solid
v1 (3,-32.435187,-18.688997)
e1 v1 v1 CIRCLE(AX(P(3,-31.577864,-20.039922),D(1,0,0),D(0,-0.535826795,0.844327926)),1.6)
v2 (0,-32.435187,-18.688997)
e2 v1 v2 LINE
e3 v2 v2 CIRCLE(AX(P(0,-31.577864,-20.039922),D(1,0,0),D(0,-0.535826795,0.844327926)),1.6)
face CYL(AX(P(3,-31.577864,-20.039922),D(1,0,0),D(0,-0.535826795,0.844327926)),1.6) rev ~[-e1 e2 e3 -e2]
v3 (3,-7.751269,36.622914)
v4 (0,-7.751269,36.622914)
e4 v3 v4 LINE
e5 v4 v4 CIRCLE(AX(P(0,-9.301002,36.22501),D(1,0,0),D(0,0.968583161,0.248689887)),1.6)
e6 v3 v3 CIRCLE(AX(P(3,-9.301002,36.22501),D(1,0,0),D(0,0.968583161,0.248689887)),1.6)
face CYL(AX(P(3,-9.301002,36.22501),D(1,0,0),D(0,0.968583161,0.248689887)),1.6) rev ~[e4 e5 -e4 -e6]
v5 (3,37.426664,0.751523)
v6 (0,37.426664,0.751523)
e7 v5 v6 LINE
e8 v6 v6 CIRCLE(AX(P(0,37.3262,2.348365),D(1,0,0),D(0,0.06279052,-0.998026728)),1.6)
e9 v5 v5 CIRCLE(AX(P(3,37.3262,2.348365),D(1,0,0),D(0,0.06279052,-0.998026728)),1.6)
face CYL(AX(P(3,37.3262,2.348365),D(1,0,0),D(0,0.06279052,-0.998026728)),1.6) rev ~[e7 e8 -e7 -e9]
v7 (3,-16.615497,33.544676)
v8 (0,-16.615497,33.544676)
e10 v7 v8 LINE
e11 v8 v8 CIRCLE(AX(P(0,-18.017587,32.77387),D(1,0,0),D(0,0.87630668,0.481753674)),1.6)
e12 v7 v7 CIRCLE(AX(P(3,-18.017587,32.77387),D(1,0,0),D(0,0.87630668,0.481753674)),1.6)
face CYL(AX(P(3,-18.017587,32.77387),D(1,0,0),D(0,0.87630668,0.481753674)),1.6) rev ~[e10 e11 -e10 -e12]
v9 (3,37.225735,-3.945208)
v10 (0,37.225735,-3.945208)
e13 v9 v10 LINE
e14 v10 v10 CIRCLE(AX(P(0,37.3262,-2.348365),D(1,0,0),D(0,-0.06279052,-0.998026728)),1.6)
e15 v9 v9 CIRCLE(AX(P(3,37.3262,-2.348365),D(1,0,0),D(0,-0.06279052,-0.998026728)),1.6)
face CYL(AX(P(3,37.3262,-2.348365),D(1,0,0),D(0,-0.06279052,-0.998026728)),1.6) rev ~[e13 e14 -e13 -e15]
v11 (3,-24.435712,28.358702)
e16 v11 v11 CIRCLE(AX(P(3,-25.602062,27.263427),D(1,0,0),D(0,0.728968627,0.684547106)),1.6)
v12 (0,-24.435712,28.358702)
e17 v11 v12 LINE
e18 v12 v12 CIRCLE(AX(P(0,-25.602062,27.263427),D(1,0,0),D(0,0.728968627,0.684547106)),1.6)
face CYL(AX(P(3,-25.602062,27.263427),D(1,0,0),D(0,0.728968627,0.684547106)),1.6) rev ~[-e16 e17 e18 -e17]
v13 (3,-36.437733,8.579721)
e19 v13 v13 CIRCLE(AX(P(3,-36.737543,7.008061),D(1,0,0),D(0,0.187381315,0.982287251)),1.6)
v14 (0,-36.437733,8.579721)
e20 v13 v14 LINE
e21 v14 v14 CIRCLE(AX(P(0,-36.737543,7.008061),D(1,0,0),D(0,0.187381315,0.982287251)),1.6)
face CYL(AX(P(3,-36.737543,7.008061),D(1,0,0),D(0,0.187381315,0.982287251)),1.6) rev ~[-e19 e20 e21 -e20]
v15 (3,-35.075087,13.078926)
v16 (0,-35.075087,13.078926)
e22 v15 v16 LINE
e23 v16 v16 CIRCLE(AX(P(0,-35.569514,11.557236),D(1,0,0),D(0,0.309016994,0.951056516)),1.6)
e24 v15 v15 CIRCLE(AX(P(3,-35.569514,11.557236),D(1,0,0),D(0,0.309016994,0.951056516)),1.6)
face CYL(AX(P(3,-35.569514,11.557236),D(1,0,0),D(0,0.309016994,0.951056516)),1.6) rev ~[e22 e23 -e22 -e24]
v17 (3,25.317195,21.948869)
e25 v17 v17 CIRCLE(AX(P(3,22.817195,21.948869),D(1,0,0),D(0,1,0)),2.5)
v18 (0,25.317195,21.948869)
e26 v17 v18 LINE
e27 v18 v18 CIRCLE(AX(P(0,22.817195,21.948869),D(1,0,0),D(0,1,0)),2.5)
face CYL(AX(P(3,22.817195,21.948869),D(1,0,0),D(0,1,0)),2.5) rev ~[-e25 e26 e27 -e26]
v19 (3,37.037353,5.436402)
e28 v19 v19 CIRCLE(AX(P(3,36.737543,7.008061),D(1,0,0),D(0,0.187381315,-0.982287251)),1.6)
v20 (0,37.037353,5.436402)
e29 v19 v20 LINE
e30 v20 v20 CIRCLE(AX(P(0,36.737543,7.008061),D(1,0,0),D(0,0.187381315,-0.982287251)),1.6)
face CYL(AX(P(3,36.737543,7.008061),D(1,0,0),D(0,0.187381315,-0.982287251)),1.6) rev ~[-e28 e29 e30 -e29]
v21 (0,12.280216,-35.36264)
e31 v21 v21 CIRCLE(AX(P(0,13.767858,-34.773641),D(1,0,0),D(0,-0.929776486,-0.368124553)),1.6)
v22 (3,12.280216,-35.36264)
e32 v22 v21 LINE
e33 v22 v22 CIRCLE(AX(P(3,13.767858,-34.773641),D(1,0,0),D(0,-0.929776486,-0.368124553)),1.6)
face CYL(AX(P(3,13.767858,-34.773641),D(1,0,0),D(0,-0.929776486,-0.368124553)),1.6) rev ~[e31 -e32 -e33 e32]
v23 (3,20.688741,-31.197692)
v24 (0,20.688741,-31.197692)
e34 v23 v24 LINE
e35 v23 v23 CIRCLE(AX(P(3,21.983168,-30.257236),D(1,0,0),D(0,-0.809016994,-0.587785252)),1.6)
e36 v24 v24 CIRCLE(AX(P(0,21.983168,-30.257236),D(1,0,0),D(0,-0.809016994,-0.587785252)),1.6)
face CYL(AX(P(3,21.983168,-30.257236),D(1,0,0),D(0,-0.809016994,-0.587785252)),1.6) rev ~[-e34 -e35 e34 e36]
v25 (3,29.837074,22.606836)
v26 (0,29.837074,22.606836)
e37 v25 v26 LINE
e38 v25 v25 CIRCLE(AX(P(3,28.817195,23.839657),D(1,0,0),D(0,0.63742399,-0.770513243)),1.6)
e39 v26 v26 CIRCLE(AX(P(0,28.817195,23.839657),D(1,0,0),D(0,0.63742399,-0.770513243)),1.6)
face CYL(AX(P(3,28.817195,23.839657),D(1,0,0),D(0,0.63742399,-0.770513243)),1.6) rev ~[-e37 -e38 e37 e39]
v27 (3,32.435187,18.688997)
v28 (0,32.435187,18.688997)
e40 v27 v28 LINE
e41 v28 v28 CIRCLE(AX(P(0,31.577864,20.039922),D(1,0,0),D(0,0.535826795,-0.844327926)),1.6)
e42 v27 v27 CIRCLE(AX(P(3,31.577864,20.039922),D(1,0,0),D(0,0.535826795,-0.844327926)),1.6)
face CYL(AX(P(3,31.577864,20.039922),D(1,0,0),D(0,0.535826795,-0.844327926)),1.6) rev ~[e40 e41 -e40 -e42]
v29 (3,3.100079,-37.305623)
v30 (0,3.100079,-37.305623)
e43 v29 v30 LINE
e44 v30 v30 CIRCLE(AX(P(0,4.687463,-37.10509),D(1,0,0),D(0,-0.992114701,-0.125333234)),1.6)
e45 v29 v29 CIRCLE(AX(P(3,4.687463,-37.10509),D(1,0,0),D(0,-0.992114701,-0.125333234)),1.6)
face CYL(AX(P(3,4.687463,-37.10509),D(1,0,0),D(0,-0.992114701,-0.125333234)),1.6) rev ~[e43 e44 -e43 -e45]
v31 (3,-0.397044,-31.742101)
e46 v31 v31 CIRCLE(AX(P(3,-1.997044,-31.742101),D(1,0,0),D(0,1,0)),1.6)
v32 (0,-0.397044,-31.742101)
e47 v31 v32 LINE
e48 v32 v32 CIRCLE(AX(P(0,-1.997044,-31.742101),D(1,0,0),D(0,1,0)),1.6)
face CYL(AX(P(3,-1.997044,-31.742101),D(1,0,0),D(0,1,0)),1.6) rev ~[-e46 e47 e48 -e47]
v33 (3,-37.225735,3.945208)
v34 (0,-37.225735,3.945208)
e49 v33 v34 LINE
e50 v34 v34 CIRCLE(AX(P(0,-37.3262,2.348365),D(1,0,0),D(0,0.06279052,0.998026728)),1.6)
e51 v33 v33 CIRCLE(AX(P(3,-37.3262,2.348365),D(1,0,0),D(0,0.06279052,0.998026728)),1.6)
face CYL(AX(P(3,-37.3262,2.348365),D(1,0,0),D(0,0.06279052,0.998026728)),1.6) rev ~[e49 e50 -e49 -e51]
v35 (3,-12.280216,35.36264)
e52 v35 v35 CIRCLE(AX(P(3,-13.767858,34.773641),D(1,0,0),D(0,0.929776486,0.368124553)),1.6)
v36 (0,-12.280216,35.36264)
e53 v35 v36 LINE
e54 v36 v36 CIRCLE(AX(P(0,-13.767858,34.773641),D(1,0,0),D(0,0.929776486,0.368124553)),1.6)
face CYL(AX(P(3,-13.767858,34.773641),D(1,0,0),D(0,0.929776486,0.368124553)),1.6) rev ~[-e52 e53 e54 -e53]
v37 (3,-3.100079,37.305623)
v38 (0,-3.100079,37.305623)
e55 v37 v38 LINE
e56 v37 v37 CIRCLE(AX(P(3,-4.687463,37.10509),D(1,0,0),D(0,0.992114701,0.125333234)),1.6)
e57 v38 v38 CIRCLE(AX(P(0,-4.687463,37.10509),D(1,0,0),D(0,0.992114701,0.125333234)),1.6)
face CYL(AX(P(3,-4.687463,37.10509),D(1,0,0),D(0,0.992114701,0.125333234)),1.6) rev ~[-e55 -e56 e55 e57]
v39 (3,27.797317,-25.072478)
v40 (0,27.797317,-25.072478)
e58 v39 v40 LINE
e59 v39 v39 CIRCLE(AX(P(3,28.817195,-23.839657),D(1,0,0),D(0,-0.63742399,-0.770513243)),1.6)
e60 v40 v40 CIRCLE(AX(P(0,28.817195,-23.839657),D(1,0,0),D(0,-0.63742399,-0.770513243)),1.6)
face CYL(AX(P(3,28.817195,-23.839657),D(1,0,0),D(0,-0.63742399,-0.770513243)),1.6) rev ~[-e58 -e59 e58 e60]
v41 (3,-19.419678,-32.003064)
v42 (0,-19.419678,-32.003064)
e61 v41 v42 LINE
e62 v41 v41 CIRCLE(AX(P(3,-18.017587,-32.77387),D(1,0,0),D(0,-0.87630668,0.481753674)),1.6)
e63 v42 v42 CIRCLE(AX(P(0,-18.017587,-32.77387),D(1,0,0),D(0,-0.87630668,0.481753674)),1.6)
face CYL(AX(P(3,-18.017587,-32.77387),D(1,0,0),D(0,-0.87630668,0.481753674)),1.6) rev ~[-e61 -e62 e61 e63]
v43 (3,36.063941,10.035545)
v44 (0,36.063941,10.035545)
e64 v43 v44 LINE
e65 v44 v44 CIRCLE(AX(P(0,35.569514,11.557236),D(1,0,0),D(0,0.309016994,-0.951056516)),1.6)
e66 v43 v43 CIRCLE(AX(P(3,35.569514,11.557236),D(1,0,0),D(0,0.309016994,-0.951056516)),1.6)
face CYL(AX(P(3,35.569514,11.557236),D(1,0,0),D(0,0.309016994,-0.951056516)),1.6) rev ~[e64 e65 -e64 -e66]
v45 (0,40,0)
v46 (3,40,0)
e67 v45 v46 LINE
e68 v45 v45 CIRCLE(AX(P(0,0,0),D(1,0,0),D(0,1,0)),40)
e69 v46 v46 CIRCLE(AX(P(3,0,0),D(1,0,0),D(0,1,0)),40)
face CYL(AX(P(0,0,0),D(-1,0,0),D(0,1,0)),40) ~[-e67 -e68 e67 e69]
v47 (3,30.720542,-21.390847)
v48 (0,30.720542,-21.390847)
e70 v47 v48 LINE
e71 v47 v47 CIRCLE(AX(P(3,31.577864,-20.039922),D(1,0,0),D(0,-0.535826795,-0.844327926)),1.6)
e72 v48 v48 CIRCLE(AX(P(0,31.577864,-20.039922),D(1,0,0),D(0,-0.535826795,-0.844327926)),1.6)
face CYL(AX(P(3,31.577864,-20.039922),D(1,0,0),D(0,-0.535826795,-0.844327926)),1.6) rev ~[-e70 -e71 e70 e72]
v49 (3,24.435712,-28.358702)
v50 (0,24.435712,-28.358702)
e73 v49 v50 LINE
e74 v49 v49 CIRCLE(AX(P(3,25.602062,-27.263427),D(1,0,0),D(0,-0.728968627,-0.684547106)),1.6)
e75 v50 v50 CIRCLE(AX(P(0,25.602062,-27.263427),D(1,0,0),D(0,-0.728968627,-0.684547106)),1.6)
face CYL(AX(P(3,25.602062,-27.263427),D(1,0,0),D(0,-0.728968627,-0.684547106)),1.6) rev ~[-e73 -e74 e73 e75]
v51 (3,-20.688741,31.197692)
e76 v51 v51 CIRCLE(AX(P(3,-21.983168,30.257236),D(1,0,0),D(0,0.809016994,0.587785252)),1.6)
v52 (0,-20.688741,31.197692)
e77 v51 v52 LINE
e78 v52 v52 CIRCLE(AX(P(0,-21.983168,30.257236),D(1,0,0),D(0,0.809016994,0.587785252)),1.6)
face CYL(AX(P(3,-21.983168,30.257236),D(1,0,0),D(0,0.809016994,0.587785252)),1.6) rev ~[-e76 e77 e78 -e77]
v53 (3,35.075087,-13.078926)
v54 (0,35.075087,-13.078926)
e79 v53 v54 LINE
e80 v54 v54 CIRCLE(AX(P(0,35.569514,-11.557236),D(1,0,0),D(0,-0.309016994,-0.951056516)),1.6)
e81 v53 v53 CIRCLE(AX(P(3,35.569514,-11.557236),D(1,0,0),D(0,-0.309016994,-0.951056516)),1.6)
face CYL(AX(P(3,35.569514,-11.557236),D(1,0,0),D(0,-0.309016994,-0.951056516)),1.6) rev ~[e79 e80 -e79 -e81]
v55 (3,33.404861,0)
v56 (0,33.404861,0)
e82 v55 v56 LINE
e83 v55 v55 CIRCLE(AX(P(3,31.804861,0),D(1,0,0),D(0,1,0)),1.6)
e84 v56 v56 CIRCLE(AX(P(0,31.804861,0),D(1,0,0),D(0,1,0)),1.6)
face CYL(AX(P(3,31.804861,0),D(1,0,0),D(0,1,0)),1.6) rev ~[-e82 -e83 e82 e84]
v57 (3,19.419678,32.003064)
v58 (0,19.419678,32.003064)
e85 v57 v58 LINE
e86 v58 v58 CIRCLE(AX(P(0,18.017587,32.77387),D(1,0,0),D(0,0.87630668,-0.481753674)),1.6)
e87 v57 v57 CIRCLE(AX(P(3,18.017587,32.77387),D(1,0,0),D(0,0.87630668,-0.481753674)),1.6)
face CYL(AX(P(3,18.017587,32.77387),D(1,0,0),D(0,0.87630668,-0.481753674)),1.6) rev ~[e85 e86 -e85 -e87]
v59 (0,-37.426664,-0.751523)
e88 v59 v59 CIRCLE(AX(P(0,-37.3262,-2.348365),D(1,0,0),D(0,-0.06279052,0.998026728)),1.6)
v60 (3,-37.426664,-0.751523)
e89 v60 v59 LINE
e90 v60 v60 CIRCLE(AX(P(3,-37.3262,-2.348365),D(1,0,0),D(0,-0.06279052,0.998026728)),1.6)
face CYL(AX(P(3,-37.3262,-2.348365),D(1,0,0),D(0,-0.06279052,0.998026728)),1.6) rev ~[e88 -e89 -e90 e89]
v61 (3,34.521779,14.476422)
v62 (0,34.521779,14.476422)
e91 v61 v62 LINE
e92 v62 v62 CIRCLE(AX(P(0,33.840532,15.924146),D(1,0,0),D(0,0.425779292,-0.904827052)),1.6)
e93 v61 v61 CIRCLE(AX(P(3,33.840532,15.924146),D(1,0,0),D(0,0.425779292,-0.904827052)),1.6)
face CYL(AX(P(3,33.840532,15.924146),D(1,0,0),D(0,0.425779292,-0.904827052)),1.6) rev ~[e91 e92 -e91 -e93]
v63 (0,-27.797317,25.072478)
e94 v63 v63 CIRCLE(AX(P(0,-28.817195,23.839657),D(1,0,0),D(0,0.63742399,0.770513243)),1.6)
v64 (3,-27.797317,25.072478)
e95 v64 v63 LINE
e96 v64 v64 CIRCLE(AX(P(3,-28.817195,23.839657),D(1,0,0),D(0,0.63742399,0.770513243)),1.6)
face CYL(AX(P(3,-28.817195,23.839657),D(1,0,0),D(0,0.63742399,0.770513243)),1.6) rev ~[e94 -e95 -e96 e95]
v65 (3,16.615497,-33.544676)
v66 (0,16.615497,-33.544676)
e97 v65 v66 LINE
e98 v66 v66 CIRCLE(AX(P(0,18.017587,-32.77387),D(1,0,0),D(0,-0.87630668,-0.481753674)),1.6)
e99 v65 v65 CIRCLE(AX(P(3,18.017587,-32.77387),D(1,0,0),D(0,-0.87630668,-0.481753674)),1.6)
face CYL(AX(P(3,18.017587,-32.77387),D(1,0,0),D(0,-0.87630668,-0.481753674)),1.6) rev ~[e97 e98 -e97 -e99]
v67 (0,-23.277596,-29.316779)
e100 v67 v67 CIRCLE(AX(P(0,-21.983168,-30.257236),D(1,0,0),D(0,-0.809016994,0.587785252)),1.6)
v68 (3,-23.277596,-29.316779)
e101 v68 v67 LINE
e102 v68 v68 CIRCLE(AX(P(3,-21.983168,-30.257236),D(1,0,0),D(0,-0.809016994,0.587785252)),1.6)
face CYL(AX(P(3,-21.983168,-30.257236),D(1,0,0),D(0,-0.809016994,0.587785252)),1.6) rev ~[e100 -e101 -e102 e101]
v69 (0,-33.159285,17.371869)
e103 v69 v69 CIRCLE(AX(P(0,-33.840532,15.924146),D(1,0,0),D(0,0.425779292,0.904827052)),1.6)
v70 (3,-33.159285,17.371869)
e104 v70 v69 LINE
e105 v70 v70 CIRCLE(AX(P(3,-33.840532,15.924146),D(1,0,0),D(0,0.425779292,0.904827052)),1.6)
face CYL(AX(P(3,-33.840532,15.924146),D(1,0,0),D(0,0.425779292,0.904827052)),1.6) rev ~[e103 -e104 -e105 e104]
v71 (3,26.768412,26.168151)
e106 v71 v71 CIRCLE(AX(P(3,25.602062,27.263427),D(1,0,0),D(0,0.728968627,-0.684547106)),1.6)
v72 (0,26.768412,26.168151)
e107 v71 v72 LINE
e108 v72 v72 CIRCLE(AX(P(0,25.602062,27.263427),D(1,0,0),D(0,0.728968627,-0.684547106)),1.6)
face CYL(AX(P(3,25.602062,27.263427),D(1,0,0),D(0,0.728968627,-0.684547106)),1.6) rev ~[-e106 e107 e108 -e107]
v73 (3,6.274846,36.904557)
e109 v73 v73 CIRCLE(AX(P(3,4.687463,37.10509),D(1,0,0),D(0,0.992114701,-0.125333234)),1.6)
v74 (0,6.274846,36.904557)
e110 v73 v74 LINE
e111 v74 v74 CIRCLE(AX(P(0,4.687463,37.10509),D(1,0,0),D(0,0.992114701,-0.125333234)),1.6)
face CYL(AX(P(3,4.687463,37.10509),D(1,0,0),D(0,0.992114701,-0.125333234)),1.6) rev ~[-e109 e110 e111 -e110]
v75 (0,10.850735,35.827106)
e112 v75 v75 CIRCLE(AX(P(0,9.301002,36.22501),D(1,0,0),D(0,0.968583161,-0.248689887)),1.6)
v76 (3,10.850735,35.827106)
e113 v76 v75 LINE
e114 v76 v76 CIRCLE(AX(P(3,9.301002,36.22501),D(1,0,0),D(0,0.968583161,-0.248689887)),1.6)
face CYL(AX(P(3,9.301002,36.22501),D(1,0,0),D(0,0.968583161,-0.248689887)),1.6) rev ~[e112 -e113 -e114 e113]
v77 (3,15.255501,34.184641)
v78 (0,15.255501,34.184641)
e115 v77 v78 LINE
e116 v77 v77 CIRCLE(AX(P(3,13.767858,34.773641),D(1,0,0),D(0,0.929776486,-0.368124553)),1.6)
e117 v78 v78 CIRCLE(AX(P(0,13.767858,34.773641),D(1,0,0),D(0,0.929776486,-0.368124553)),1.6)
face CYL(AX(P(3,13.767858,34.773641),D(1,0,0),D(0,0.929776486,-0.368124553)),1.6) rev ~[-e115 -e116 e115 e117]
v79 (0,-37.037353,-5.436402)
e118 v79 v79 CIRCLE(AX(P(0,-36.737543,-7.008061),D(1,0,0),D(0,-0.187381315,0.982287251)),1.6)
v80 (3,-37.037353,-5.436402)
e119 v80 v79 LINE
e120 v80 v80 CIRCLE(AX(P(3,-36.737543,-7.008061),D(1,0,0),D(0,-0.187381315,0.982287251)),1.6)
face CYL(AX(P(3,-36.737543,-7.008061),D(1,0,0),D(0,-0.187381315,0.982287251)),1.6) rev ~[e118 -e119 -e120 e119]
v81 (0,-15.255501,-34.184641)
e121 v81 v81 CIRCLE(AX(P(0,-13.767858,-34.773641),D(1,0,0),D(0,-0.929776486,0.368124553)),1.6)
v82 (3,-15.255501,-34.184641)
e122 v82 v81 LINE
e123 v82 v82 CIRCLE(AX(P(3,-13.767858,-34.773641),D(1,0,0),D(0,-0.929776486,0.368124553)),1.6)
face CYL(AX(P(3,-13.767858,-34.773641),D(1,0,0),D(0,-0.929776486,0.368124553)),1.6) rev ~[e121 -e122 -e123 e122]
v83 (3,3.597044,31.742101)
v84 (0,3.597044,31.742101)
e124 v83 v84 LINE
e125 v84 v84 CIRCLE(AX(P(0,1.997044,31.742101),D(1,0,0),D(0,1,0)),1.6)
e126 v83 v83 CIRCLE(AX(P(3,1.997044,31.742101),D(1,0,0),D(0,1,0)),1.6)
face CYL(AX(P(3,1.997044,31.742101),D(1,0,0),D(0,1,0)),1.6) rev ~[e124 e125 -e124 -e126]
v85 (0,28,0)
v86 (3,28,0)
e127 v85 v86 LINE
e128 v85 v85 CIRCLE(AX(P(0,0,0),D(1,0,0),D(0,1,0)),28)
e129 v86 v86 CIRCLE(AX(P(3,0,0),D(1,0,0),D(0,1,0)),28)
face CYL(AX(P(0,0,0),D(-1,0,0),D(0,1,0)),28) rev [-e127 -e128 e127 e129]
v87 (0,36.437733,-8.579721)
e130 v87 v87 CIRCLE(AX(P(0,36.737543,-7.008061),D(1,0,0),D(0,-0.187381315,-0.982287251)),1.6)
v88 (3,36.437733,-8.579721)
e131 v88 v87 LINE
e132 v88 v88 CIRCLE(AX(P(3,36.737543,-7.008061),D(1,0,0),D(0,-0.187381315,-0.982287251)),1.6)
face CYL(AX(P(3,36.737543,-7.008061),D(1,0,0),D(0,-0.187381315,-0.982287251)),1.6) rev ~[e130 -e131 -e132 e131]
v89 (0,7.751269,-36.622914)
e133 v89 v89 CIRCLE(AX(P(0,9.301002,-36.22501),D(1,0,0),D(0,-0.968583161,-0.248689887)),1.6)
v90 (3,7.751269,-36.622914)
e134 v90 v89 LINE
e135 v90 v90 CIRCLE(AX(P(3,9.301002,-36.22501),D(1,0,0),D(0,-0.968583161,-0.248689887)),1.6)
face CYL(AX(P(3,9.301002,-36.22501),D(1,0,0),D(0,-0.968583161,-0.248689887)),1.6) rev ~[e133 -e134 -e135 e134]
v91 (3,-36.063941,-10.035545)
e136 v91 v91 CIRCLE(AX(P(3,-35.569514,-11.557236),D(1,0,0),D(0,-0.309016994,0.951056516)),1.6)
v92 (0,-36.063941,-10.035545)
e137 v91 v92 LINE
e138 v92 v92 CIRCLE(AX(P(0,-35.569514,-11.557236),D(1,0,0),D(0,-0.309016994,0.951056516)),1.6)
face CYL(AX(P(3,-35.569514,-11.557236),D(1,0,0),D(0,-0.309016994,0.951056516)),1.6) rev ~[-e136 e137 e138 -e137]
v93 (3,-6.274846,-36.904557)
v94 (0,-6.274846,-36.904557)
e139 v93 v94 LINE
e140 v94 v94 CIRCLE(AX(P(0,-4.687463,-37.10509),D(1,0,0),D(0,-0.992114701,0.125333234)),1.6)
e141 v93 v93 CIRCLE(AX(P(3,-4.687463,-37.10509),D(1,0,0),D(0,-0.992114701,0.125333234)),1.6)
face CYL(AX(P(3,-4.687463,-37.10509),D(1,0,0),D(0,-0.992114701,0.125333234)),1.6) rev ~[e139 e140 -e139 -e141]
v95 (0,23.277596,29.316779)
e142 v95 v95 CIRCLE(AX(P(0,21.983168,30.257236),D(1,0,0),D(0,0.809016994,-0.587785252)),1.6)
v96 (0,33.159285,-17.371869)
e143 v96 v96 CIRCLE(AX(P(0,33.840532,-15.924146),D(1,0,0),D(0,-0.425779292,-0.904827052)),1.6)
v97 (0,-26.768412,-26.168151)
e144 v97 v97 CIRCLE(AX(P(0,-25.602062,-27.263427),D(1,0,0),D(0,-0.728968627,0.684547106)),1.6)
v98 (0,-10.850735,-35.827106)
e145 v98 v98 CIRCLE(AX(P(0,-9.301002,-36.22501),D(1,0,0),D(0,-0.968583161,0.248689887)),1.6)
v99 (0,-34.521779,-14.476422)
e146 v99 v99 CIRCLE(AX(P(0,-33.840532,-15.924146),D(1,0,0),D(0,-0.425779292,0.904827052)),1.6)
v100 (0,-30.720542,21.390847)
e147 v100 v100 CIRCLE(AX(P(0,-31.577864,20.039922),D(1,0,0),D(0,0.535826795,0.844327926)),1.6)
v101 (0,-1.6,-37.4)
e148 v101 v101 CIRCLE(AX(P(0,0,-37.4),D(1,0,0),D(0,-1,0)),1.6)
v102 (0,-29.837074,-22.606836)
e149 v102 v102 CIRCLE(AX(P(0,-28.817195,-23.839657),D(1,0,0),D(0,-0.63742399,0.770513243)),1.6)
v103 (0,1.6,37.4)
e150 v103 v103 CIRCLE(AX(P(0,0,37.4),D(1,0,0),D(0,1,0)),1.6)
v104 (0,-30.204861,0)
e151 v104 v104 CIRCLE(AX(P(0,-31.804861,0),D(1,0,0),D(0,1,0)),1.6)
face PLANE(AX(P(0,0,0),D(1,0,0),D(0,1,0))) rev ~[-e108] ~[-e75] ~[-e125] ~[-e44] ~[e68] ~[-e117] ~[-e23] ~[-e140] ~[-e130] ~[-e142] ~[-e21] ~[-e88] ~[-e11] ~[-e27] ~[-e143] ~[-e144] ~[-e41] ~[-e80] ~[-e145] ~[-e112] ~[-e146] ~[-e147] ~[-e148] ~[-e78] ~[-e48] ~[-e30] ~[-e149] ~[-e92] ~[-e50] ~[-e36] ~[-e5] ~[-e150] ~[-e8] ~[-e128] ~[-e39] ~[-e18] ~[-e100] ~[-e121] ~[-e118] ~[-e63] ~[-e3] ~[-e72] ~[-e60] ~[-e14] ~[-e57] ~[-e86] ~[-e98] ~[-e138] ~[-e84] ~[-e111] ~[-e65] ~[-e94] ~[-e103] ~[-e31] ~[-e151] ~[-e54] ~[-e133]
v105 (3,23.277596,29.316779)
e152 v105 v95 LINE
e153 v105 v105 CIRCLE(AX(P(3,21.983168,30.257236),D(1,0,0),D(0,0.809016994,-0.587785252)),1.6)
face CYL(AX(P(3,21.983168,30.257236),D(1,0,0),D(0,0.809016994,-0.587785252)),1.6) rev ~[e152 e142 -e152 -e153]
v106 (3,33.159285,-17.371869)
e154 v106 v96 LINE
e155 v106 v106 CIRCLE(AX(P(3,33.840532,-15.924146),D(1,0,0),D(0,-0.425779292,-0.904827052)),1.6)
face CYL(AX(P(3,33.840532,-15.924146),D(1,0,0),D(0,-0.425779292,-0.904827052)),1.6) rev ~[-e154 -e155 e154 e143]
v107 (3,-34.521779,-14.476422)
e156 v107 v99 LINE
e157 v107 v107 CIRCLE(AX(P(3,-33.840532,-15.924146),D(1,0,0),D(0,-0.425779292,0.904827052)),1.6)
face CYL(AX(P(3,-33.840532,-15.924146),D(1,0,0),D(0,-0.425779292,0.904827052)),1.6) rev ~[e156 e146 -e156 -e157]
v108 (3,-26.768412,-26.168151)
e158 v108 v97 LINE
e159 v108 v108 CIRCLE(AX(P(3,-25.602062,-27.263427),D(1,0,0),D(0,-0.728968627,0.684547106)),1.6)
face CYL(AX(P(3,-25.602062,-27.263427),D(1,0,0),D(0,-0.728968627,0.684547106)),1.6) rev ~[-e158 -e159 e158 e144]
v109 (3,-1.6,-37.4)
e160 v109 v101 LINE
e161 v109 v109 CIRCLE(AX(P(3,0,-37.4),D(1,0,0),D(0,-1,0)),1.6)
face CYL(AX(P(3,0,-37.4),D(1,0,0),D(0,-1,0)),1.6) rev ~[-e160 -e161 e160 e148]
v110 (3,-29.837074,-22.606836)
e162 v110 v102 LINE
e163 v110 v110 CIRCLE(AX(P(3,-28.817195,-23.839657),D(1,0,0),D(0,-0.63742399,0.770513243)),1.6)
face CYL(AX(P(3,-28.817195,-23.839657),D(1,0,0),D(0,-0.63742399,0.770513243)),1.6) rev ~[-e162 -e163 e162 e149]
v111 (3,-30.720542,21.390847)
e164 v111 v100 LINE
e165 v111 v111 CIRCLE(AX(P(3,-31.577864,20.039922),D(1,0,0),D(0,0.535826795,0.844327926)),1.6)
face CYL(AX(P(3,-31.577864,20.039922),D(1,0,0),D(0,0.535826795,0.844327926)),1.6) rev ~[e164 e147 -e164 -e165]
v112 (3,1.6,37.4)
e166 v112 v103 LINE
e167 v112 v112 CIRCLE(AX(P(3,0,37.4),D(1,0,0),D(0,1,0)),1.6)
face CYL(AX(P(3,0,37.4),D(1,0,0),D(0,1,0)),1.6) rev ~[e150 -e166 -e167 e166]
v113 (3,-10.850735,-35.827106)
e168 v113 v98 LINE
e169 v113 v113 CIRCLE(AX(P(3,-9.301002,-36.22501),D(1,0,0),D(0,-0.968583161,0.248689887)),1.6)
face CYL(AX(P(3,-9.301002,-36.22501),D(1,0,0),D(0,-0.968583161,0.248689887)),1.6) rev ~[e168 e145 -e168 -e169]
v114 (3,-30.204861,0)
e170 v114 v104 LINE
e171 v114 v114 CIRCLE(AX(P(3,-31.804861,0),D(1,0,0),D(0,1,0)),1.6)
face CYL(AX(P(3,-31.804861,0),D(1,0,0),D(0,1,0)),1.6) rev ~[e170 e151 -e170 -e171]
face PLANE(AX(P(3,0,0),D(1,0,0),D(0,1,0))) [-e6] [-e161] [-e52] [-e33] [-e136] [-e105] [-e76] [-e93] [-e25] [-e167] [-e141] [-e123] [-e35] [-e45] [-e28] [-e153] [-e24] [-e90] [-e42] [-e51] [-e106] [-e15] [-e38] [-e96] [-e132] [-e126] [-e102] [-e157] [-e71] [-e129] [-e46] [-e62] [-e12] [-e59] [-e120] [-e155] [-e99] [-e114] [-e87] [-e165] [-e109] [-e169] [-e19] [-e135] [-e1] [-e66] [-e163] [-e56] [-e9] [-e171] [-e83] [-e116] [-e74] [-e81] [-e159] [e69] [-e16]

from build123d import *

# Parameters (mm, degrees)
SKETCH_R           = 40
SKETCH_R_2         = 28
PAD_DEPTH          = 3
SKETCH001_R        = 1.6
POCKET_DEPTH       = 5
POLARPATTERN_COUNT = 50
SKETCH002_R        = 1.6
SKETCH002_R_2      = 2.5
POCKET001_DEPTH    = 3.001


with BuildPart() as part:
    # Sketch → Pad (new body)
    with BuildSketch(Plane.YZ):
        Circle(SKETCH_R)
        Circle(SKETCH_R_2, mode=Mode.SUBTRACT)
    extrude(amount=PAD_DEPTH)

    # Sketch001 (on Face4 of Pad) → Pocket (cut)
    with BuildSketch(Plane.YZ.offset(3)):
        with Locations((0, 37.4)):
            Circle(SKETCH001_R)
    pocket = extrude(amount=-POCKET_DEPTH, mode=Mode.SUBTRACT)

    # PolarPattern: Pocket ×50 about axis
    polarpattern_axis = Axis((3, 0, 0), (1, 0, 0))
    for i in range(1, POLARPATTERN_COUNT):
        add(pocket.rotate(polarpattern_axis, i * 360 / POLARPATTERN_COUNT), mode=Mode.SUBTRACT)

    # Sketch002 (on Face3 of PolarPattern) → Pocket001 (cut, through all)
    with BuildSketch(Plane.YZ.offset(3)):
        with Locations((1.997044, 31.742101)):
            Circle(SKETCH002_R)
        with Locations((31.804861, 0)):
            Circle(SKETCH002_R)
        with Locations((-31.804861, 0)):
            Circle(SKETCH002_R)
        with Locations((-1.997044, -31.742101)):
            Circle(SKETCH002_R)
        with Locations((22.817195, 21.948869)):
            Circle(SKETCH002_R_2)
    extrude(amount=-POCKET001_DEPTH, mode=Mode.SUBTRACT)


solid = part.part
